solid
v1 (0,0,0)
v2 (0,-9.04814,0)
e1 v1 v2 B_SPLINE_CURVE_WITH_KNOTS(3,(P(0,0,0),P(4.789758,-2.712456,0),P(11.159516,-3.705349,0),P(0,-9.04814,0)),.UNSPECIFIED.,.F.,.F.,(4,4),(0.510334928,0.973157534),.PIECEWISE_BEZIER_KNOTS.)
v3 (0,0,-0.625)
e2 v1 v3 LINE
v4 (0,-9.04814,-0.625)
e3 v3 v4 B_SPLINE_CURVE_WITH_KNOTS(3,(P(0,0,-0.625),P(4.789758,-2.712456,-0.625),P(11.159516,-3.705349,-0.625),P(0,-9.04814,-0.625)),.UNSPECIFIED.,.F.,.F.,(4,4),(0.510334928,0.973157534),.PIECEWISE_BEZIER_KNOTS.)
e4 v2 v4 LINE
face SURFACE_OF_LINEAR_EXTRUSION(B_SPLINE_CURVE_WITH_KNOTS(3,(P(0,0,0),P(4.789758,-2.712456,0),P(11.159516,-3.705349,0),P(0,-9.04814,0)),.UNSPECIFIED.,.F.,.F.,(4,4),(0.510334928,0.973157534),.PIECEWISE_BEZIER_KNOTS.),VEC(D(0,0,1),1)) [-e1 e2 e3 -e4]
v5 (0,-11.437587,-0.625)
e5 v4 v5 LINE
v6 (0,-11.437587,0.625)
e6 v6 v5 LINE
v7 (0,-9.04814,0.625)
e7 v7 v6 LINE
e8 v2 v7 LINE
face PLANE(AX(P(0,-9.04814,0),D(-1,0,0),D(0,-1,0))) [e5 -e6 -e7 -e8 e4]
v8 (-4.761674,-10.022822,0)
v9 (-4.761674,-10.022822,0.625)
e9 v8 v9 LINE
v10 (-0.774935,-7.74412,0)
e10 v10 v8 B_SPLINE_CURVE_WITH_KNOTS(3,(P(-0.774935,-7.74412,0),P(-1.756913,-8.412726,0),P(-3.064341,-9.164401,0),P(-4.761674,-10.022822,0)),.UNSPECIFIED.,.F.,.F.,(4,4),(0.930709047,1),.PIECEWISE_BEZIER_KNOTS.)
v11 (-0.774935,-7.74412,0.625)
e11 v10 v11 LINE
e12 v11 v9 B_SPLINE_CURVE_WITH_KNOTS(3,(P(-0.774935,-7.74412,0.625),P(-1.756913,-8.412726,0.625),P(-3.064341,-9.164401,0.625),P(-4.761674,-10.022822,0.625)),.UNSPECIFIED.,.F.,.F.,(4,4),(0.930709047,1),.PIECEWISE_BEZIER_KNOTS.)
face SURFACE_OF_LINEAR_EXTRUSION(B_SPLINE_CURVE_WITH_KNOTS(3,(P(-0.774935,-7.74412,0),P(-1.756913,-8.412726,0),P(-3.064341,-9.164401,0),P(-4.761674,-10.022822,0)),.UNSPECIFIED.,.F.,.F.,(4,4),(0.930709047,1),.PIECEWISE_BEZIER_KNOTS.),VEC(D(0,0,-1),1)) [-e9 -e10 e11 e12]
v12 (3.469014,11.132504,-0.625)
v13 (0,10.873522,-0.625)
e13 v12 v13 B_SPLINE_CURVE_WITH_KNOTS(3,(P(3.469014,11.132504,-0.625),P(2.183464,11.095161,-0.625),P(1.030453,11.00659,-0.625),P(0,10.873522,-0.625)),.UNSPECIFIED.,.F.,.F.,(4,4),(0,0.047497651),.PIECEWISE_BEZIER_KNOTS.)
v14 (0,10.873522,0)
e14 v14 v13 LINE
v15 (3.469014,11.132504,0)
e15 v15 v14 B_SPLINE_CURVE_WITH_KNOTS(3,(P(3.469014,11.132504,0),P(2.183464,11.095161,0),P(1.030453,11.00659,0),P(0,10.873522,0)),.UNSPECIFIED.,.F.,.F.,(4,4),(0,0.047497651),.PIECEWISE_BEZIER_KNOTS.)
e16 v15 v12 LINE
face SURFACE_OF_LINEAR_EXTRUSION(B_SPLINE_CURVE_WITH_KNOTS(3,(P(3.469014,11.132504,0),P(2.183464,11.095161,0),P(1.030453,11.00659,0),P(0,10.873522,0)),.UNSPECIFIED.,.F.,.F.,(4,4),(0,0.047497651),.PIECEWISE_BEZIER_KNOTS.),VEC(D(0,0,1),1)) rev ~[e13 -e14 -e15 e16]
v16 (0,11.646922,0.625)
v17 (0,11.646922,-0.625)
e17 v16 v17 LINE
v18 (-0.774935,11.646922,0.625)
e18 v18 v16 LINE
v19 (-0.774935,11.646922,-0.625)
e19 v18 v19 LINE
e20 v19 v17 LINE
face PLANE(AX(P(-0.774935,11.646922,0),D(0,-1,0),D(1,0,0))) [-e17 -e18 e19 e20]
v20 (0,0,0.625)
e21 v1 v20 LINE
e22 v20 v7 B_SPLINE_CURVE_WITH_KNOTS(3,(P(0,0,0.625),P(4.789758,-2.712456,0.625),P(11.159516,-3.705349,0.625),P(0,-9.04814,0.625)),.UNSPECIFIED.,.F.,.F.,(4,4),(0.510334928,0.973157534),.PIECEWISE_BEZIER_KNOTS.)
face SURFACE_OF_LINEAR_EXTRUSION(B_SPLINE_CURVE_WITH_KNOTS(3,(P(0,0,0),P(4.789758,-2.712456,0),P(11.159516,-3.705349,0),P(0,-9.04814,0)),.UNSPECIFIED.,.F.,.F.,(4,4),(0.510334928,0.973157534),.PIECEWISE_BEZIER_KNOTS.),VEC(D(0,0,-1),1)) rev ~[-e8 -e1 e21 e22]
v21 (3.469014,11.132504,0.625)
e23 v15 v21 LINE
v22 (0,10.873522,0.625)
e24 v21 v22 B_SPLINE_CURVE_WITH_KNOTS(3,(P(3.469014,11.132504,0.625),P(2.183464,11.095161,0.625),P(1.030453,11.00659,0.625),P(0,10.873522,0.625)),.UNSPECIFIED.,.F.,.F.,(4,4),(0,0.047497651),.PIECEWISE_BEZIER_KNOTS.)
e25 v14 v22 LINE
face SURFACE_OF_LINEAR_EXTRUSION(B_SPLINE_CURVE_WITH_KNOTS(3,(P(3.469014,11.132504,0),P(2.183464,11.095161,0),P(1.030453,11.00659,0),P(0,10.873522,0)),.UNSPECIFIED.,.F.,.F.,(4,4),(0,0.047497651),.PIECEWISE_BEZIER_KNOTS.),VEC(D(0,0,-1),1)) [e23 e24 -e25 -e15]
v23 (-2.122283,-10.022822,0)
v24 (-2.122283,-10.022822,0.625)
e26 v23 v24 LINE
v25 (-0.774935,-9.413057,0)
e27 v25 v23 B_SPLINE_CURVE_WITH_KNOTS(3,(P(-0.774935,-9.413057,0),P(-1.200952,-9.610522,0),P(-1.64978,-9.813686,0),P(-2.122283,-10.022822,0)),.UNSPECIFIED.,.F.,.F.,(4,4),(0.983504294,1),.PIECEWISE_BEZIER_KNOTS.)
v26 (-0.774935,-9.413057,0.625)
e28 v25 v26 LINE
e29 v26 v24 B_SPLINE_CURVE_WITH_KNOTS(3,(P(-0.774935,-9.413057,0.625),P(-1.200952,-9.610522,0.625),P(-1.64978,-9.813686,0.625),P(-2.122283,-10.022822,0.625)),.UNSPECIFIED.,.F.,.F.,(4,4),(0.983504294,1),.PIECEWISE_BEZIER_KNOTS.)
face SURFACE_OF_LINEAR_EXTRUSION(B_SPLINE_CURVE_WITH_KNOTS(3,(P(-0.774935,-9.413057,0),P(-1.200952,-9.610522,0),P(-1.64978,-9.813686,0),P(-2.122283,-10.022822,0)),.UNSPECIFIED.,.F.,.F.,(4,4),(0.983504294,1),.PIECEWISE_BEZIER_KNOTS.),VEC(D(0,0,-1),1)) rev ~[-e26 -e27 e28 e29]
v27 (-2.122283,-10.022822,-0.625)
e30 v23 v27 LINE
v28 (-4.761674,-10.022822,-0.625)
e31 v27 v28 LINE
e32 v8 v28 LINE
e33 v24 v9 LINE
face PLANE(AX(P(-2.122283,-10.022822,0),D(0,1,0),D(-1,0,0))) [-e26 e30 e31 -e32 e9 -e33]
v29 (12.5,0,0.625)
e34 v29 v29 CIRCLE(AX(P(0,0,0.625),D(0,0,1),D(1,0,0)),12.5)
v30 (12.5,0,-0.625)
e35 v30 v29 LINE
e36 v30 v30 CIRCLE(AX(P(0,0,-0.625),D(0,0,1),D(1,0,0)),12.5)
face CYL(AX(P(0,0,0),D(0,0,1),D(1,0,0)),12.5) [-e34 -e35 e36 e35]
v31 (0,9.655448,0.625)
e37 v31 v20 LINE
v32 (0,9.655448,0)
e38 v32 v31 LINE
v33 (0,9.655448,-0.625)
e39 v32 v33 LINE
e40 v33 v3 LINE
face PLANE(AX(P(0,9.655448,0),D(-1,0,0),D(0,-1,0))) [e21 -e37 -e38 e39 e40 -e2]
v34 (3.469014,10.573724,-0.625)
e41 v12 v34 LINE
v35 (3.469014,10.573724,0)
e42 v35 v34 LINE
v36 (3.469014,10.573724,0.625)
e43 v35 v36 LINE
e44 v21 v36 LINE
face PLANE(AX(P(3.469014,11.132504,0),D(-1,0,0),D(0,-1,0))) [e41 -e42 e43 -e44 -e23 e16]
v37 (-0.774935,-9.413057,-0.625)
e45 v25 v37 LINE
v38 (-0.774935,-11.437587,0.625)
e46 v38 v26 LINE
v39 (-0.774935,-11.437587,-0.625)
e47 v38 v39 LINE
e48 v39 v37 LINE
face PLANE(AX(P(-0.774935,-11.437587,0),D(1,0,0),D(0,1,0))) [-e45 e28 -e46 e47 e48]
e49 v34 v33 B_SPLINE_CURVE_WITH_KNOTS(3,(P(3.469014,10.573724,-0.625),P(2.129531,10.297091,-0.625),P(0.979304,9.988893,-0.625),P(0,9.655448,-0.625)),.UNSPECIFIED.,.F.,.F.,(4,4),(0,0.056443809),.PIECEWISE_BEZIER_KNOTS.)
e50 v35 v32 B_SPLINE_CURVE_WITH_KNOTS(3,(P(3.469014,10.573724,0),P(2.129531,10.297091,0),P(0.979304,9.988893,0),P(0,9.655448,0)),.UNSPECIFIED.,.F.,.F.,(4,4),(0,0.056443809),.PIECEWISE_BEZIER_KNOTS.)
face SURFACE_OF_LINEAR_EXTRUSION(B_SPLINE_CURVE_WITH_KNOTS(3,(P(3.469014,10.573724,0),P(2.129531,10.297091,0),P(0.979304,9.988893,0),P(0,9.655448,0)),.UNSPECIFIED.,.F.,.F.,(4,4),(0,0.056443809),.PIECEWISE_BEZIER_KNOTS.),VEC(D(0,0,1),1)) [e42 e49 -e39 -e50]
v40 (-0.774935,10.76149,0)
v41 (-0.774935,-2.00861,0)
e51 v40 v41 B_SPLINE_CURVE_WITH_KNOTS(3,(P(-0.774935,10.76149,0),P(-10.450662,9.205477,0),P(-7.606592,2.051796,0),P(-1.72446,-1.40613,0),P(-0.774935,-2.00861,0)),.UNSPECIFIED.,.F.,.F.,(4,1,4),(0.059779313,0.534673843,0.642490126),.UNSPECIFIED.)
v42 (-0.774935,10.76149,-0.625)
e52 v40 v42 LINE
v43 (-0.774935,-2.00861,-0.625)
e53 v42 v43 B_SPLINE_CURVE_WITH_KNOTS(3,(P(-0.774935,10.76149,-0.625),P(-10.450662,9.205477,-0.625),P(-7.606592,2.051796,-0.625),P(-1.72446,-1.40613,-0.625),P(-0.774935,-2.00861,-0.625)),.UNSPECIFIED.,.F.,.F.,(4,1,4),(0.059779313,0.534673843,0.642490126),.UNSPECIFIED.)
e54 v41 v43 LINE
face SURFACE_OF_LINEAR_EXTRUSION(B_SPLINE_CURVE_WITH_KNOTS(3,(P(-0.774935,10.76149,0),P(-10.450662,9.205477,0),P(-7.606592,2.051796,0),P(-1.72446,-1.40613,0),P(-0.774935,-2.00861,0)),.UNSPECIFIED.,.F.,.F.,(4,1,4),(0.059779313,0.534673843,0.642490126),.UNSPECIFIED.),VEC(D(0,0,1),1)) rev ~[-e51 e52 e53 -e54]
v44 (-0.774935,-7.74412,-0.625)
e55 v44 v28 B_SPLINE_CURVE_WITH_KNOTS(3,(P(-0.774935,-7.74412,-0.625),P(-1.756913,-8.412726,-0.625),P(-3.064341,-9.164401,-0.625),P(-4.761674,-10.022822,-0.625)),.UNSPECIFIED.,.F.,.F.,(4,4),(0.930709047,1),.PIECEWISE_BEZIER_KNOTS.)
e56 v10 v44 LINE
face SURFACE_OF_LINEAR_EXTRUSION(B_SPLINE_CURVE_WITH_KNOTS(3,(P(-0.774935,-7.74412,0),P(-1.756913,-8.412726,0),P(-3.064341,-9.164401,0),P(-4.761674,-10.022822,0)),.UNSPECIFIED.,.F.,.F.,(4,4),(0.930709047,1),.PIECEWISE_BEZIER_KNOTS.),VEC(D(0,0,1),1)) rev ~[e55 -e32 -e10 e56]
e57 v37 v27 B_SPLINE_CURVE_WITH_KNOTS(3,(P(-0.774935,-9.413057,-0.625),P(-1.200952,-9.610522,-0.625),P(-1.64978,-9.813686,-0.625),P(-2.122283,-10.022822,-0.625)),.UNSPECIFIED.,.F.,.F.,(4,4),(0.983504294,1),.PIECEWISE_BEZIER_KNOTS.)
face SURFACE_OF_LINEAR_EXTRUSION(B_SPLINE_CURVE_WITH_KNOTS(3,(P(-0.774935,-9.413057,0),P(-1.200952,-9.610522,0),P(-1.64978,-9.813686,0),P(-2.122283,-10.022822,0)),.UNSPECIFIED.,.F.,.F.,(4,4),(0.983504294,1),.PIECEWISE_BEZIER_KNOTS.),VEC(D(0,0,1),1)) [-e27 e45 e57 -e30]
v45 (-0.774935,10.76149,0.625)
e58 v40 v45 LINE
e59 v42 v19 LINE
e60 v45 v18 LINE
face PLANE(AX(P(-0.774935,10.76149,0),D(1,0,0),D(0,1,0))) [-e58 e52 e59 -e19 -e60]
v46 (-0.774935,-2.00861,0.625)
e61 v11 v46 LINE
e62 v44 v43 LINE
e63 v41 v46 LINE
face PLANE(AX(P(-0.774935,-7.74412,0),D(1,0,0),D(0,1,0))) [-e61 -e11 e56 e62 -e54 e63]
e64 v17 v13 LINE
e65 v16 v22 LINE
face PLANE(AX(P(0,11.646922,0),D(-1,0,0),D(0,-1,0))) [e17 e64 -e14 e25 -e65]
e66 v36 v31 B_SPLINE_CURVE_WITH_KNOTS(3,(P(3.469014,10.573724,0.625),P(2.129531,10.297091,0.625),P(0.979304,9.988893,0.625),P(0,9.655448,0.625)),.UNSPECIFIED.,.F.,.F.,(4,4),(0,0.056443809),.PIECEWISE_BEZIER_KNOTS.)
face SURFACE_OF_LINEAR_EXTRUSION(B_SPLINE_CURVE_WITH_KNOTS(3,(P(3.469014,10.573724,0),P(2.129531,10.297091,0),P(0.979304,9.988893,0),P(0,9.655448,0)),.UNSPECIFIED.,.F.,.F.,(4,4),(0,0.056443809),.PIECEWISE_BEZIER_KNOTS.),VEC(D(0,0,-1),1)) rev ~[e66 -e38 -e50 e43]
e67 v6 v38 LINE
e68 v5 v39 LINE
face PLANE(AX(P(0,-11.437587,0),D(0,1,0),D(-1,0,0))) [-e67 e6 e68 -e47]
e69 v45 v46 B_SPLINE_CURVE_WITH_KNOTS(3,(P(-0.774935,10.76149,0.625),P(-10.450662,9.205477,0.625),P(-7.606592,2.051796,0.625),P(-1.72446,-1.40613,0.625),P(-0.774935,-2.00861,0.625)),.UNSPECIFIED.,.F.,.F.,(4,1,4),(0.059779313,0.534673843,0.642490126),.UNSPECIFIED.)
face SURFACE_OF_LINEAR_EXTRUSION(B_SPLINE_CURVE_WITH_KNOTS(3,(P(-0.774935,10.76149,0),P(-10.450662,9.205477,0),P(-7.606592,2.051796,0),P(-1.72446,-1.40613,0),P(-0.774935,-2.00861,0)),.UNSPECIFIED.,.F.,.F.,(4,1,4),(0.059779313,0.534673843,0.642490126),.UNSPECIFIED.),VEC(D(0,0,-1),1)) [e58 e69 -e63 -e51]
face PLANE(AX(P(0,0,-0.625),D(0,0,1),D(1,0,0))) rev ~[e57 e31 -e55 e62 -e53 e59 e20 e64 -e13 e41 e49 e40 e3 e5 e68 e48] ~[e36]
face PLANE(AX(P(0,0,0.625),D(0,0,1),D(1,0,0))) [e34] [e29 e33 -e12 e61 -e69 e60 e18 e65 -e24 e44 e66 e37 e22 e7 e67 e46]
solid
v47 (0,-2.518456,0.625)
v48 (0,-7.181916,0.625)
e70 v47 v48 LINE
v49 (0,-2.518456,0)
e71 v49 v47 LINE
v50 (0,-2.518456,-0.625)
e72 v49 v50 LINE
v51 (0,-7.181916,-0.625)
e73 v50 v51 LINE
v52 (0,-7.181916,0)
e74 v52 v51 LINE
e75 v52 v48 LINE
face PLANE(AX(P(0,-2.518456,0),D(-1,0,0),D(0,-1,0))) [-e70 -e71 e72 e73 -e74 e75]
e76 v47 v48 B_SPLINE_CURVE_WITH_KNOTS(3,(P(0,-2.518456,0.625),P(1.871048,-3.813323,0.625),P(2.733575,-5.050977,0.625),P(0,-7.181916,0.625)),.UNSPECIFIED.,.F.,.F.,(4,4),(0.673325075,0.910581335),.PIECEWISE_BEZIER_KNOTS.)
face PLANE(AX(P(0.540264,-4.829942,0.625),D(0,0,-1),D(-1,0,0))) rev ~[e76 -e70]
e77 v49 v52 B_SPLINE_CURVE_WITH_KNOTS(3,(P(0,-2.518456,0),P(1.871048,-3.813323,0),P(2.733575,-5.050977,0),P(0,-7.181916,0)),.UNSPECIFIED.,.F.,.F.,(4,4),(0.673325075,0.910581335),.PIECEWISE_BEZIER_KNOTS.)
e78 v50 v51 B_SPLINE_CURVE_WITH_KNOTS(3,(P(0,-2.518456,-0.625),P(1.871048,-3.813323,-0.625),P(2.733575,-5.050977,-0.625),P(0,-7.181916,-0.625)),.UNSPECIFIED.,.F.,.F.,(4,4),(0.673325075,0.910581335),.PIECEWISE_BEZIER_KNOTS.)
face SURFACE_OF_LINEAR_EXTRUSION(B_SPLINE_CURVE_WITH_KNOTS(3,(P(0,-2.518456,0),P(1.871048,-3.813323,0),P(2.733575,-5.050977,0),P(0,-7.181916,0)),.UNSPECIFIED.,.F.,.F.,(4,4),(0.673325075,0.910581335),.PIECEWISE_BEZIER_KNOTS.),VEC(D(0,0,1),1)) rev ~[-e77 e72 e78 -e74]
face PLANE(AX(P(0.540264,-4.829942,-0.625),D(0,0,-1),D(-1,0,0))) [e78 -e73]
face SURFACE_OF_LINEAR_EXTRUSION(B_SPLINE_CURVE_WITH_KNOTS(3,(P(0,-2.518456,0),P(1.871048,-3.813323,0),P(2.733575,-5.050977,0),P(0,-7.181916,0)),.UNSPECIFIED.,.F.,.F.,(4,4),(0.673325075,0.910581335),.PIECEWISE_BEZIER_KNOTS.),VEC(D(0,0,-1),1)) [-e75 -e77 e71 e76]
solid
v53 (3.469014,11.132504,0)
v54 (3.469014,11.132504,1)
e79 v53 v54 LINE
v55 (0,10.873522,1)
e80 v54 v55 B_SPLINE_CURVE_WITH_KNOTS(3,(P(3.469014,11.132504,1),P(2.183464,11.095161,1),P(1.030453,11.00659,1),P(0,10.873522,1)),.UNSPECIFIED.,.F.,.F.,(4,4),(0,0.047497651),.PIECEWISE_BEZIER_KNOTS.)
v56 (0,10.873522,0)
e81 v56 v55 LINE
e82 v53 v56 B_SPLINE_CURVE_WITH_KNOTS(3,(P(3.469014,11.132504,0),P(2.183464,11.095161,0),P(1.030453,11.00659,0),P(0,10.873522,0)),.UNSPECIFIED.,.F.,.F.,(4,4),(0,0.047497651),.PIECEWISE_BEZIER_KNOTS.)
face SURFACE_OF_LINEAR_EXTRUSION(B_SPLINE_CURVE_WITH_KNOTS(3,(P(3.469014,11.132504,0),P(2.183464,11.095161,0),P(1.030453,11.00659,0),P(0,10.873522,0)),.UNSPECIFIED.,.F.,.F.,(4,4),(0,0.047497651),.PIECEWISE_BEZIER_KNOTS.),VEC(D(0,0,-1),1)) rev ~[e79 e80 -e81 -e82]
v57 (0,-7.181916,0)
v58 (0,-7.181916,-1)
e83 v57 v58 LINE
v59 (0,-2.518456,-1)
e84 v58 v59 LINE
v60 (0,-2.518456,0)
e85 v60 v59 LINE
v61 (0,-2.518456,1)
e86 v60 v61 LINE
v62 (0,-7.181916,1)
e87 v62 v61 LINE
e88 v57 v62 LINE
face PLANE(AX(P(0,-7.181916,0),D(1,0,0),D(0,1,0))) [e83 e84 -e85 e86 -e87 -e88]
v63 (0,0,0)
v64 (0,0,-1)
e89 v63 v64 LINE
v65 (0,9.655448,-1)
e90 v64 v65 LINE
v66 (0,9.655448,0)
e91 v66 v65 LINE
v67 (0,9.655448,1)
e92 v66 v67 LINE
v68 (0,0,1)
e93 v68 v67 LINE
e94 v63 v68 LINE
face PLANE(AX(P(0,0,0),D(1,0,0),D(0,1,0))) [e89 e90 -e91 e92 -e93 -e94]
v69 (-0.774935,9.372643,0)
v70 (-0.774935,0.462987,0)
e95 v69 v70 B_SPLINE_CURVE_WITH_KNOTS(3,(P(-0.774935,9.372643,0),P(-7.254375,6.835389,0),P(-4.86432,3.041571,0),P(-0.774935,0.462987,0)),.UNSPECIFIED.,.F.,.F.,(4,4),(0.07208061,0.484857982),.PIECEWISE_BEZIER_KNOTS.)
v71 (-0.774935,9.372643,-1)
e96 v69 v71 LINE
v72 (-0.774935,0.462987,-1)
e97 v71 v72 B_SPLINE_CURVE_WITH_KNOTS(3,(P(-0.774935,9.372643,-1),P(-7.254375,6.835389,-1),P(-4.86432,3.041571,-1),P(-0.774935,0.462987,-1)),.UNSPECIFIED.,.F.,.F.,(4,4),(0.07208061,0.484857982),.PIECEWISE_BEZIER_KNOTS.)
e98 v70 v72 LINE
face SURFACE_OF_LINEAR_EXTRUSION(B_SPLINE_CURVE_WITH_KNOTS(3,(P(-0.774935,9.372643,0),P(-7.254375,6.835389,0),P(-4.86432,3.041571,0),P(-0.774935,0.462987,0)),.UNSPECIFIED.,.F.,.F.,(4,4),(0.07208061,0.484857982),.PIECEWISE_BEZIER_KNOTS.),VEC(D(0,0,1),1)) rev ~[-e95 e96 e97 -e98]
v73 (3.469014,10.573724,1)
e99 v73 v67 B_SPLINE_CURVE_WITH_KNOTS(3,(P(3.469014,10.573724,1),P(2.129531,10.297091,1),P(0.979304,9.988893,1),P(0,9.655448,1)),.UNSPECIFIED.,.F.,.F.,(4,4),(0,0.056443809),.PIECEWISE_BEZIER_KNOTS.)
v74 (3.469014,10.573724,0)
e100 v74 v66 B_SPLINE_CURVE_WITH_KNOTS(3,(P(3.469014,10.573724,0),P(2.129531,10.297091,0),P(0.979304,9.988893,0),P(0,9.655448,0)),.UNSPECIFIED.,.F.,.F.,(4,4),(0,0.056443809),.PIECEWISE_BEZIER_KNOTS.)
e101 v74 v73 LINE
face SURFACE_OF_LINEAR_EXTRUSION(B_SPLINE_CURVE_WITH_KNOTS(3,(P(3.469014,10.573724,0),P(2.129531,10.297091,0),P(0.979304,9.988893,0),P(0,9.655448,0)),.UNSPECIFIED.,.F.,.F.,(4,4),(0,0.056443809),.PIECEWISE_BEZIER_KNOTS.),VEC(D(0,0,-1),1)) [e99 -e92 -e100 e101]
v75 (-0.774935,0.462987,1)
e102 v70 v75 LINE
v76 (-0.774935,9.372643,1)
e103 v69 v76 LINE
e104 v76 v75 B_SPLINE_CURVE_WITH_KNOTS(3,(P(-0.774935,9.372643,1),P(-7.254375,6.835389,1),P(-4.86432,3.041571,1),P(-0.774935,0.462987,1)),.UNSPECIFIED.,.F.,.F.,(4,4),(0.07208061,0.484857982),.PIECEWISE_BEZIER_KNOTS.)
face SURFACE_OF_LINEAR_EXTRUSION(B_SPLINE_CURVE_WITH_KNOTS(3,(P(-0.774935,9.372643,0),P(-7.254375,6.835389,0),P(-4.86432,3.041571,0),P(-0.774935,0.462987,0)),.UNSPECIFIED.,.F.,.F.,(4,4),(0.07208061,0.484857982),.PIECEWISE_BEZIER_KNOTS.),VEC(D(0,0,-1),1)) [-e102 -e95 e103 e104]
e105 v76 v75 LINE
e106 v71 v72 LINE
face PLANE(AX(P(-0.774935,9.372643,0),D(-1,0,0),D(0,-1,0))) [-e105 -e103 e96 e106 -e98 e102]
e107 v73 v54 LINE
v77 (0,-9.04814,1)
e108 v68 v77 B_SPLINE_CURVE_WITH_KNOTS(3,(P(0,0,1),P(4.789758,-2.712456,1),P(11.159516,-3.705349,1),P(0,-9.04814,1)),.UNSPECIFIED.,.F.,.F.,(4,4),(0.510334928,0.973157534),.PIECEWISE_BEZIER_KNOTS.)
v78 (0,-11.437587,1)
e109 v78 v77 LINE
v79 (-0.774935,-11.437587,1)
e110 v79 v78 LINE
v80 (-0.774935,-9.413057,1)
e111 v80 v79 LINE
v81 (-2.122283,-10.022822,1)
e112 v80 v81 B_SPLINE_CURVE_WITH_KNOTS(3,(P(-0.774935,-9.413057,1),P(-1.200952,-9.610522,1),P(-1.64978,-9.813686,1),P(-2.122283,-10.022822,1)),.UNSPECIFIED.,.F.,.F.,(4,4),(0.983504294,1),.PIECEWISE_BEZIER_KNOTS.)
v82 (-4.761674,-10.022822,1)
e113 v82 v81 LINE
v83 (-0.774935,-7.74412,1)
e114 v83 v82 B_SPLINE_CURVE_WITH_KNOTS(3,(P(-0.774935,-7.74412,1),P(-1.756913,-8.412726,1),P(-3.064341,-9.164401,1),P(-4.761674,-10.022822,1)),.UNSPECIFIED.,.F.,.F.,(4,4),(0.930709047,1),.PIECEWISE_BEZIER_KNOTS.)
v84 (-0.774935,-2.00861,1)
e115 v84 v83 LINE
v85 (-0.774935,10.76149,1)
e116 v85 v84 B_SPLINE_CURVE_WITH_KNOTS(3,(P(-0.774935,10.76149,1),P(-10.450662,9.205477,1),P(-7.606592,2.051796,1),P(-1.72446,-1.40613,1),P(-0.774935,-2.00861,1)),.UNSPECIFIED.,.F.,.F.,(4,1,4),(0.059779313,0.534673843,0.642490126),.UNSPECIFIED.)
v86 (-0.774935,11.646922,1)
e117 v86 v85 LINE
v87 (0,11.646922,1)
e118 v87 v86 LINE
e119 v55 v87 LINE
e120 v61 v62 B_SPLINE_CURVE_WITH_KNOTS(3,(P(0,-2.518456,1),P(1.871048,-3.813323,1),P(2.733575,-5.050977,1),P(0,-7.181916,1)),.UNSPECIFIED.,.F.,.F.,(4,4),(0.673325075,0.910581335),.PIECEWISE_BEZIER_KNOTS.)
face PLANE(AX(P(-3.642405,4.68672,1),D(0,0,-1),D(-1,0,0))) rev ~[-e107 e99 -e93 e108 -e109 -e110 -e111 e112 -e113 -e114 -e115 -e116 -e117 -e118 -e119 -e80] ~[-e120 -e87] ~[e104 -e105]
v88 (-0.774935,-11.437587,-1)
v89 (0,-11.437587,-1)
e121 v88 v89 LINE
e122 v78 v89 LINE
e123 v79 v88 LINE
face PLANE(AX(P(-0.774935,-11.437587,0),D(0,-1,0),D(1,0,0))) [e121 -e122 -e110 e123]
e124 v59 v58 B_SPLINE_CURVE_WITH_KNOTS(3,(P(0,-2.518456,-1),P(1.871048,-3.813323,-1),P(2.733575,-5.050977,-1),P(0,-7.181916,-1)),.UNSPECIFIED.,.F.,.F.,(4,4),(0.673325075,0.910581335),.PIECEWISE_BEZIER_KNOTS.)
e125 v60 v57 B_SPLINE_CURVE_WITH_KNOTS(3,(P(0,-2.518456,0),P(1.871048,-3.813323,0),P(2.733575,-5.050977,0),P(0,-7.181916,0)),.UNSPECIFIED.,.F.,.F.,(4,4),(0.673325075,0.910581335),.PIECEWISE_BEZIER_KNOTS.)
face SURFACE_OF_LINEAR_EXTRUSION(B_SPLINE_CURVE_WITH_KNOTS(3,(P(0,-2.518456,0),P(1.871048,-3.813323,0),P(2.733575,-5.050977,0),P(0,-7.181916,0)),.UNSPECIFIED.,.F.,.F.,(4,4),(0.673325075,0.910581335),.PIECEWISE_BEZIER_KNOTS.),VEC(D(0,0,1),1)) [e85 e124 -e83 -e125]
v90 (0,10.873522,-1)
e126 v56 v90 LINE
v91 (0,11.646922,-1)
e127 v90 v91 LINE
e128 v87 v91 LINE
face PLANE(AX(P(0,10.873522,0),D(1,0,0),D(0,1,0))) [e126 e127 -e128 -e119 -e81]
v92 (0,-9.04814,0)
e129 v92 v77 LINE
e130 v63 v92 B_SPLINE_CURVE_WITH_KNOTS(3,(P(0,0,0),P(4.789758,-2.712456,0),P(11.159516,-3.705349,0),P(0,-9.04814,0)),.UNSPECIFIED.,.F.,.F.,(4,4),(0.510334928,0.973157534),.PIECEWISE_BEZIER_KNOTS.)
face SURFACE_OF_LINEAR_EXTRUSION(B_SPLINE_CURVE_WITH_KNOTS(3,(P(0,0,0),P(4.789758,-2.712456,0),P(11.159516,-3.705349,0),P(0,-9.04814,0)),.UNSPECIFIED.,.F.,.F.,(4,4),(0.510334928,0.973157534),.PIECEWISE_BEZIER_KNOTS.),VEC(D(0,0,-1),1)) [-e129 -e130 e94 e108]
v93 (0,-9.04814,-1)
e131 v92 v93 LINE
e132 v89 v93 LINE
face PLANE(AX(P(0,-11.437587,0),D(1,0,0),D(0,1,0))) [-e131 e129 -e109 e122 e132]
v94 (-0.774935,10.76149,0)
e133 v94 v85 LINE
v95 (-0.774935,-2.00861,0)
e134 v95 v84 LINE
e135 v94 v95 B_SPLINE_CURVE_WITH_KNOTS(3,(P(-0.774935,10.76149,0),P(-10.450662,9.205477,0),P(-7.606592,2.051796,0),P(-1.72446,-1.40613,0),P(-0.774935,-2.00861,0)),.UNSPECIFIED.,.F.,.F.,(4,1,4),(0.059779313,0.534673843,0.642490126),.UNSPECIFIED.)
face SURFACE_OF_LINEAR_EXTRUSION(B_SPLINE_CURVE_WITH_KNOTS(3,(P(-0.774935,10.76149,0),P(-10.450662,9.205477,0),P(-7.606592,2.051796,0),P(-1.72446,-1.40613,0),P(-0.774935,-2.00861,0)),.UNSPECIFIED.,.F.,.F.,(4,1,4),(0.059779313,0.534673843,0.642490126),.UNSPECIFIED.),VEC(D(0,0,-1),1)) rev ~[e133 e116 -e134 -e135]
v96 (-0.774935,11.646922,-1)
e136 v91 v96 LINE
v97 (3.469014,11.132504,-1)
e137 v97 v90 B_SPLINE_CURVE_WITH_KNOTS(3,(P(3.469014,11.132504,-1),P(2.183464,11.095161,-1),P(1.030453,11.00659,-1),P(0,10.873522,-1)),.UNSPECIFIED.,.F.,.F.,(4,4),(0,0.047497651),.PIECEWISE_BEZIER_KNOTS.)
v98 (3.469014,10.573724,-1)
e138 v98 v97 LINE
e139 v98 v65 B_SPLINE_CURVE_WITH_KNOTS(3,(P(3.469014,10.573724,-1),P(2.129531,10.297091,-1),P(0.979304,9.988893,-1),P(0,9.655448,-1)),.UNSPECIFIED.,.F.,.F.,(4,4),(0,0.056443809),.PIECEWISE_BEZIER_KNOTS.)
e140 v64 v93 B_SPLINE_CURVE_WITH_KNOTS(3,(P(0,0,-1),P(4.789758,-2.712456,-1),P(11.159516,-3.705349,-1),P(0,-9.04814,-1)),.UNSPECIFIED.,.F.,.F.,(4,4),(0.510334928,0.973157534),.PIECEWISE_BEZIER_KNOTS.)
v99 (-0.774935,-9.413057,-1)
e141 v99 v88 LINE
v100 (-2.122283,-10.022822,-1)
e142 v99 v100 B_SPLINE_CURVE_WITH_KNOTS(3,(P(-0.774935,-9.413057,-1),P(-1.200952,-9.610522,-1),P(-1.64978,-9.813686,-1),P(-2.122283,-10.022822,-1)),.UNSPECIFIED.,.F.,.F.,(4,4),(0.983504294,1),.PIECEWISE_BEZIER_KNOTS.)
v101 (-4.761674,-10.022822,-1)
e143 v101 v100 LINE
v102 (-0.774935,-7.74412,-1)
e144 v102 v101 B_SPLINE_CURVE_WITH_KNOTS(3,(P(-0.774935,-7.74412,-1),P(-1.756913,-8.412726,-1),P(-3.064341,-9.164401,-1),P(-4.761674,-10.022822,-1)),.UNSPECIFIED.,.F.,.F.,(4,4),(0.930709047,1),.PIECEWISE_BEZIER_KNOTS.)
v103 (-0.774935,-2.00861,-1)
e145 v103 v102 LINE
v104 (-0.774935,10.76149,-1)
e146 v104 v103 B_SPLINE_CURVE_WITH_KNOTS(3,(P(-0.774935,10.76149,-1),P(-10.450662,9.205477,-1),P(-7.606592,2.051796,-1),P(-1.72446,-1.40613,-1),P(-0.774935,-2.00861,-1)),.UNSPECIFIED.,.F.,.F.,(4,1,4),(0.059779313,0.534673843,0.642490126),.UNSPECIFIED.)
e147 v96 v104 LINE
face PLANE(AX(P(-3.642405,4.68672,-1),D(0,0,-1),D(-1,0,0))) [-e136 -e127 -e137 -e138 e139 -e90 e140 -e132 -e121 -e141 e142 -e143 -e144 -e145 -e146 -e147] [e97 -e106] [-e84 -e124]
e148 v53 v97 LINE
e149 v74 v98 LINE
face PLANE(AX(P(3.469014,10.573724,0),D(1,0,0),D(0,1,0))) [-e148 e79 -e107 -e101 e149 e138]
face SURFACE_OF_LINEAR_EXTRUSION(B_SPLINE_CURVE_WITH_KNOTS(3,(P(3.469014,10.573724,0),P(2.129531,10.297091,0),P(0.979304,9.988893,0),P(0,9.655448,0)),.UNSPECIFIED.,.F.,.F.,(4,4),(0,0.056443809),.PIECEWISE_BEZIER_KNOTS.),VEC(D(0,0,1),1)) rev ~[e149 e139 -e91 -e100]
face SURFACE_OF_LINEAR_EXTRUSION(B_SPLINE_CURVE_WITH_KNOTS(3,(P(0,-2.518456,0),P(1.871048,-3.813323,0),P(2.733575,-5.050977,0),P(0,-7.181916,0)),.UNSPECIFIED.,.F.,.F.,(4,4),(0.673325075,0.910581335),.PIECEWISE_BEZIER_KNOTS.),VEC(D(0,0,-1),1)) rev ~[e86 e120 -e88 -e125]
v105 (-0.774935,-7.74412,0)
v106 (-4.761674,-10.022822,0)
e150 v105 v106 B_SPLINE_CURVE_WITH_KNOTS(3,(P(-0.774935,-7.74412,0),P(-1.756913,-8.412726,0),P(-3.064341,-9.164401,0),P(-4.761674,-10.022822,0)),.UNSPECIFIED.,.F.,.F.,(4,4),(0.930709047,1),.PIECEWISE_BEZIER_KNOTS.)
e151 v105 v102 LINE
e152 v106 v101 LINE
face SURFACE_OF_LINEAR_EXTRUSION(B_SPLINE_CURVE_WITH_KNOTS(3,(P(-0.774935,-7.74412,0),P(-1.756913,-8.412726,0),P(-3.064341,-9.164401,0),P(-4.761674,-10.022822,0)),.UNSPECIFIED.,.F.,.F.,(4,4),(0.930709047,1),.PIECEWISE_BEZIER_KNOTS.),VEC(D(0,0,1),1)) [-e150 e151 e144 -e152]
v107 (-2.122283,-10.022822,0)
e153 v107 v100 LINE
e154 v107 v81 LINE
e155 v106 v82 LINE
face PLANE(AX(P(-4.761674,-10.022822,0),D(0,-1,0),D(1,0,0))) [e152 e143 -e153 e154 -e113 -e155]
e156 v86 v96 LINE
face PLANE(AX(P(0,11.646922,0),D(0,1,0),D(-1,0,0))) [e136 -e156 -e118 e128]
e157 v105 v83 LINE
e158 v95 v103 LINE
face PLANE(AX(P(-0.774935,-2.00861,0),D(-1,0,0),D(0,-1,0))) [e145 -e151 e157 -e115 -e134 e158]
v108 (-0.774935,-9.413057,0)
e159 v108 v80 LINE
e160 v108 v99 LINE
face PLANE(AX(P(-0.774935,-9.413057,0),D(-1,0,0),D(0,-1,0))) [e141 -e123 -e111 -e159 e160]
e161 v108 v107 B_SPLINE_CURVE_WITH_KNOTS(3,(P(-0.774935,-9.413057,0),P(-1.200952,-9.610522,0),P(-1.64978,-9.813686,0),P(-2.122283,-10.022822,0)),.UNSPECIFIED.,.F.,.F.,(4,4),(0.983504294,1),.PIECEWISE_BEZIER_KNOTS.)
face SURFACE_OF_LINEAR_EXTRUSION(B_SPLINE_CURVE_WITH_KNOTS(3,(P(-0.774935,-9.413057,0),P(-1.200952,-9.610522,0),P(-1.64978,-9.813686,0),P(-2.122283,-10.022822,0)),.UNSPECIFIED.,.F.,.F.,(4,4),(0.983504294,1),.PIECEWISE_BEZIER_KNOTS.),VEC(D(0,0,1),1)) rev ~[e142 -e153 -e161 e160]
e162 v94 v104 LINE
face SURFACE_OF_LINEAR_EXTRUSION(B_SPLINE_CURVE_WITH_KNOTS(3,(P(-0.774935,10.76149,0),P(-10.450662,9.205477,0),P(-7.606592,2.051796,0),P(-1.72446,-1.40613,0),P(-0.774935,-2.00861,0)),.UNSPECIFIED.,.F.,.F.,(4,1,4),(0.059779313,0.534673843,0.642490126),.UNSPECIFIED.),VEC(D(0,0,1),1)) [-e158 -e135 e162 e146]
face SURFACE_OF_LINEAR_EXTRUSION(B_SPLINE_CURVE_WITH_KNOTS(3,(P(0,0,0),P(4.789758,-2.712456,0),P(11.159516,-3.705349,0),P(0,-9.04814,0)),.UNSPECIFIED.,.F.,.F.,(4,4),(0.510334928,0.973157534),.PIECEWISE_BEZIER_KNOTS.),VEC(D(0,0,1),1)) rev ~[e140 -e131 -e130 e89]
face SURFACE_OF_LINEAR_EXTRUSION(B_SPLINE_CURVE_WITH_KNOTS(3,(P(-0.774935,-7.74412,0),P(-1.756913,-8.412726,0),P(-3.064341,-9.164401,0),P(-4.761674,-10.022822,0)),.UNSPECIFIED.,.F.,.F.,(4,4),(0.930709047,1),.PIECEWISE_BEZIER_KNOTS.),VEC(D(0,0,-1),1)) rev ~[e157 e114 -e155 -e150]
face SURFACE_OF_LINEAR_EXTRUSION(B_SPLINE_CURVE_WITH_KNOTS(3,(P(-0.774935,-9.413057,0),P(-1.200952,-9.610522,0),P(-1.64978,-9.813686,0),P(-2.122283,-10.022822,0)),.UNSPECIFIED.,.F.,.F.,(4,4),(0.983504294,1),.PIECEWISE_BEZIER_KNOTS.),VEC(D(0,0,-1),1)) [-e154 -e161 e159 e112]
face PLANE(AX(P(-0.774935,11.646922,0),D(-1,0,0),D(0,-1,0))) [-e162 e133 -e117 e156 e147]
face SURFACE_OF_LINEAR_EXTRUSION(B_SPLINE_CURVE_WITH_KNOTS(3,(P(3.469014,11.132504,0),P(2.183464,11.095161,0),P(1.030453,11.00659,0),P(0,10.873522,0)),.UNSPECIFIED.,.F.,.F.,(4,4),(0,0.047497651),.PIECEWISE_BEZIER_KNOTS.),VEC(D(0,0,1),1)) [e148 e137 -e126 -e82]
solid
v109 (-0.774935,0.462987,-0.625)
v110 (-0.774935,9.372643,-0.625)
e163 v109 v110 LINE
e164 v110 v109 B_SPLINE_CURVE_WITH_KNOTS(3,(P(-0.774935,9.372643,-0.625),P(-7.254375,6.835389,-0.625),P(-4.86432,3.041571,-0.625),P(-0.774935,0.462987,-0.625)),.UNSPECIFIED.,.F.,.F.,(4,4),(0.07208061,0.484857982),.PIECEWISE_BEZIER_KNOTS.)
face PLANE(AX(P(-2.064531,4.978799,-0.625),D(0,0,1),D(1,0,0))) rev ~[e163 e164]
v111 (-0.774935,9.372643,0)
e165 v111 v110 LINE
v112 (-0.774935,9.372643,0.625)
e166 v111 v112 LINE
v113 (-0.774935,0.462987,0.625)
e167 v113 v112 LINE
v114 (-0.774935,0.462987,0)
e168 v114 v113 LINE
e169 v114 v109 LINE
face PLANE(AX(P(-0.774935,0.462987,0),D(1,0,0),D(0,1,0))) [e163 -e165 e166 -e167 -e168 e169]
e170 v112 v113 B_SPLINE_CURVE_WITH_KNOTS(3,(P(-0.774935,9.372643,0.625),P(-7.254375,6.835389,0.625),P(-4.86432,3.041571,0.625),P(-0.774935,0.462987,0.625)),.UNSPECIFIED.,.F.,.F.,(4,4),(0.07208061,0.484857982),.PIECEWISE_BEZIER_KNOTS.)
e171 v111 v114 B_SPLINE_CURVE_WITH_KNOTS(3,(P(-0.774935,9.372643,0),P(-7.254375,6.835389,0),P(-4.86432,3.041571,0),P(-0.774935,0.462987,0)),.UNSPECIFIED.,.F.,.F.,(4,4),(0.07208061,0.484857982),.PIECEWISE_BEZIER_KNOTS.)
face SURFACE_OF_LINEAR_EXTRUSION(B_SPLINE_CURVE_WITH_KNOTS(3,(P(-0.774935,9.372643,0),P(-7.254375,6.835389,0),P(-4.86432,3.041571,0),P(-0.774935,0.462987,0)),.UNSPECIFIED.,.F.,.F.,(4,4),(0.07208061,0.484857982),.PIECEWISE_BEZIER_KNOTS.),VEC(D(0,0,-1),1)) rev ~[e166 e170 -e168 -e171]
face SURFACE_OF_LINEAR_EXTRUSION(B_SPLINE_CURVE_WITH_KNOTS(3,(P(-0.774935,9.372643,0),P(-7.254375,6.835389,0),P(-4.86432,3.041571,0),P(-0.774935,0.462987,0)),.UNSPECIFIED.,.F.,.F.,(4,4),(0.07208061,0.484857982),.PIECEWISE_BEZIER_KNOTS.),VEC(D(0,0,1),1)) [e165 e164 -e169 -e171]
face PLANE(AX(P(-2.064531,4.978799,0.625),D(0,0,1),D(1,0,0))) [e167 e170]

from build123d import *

# Parameters (mm, degrees)
F0_R     = 12.5
F1_DEPTH = 0.625
F2_DEPTH = 1


with BuildPart() as f1:
    # F0 (on Top) → F1 (new body, symmetric)
    with BuildSketch(Plane.XY):
        Circle(F0_R)
        with BuildLine():
            Line((3.469013609, 11.1325038597), (3.469013609, 10.5737236289))
            add(Edge.make_bspline(
                [(3.469013609, 10.5737236289), (2.1295310147, 10.2970913139), (0.9793041014, 9.9888926875), (0, 9.655447705)],
                knots=[0, 0, 0, 0, 0.0564438089, 0.0564438089, 0.0564438089, 0.0564438089], degree=3))
            Line((0, 9.655447705), (0, 0))
            add(Edge.make_bspline(
                [(0, 0), (4.7897576398, -2.7124564463), (11.1595160542, -3.7053488117), (0, -9.0481404075)],
                knots=[0.5103349284, 0.5103349284, 0.5103349284, 0.5103349284, 0.9731575335, 0.9731575335, 0.9731575335, 0.9731575335], degree=3))
            Line((0, -9.0481404075), (0, -11.43758744))
            Line((0, -11.43758744), (-0.7749350043, -11.43758744))
            Line((-0.7749350043, -11.43758744), (-0.7749350043, -9.4130570546))
            add(Edge.make_bspline(
                [(-0.7749350043, -9.4130570546), (-1.2009520677, -9.6105223834), (-1.6497795787, -9.8136858366), (-2.1222827306, -10.022822216)],
                knots=[0.9835042945, 0.9835042945, 0.9835042945, 0.9835042945, 1, 1, 1, 1], degree=3))
            Line((-2.1222827306, -10.022822216), (-4.7616744414, -10.022822216))
            add(Edge.make_bspline(
                [(-0.7749350043, -7.7441201795), (-1.7569134715, -8.4127257105), (-3.0643409272, -9.1644007059), (-4.7616744414, -10.022822216)],
                knots=[0.9307090471, 0.9307090471, 0.9307090471, 0.9307090471, 1, 1, 1, 1], degree=3))
            Line((-0.7749350043, -7.7441201795), (-0.7749350043, -2.0086095272))
            add(Edge.make_bspline(
                [(-0.7749350043, 10.7614904305), (-10.4506616594, 9.2054766823), (-7.6065922045, 2.0517963529), (-1.7244596317, -1.4061301092), (-0.7749350043, -2.0086095272)],
                knots=[0.0597793128, 0.0597793128, 0.0597793128, 0.0597793128, 0.5346738425, 0.6424901257, 0.6424901257, 0.6424901257, 0.6424901257], degree=3))
            Line((-0.7749350043, 10.7614904305), (-0.7749350043, 11.6469217464))
            Line((-0.7749350043, 11.6469217464), (0, 11.6469217464))
            Line((0, 11.6469217464), (0, 10.8735224005))
            add(Edge.make_bspline(
                [(3.469013609, 11.1325038597), (2.1834638751, 11.0951609113), (1.0304529742, 11.006589692), (0, 10.8735224005)],
                knots=[0, 0, 0, 0, 0.0474976509, 0.0474976509, 0.0474976509, 0.0474976509], degree=3))
        make_face(mode=Mode.SUBTRACT)
    extrude(amount=F1_DEPTH, both=True)


with BuildPart() as f1b:
    # F0 (on Top) → F1, piece 2 (new body, symmetric)
    with BuildSketch(Plane.XY):
        with BuildLine():
            Line((-0.7749350043, 0.4629873961), (-0.7749350043, 9.3726434612))
            add(Edge.make_bspline(
                [(-0.7749350043, 9.3726434612), (-7.2543752333, 6.8353887137), (-4.8643202342, 3.0415711892), (-0.7749350043, 0.4629873961)],
                knots=[0.0720806097, 0.0720806097, 0.0720806097, 0.0720806097, 0.4848579816, 0.4848579816, 0.4848579816, 0.4848579816], degree=3))
        make_face()
    extrude(amount=F1_DEPTH, both=True)


with BuildPart() as f1c:
    # F0 (on Top) → F1, piece 3 (new body, symmetric)
    with BuildSketch(Plane.XY):
        with BuildLine():
            add(Edge.make_bspline(
                [(0, -2.5184561726), (1.8710484062, -3.8133227091), (2.7335754881, -5.0509767976), (0, -7.1819160441)],
                knots=[0.6733250753, 0.6733250753, 0.6733250753, 0.6733250753, 0.9105813345, 0.9105813345, 0.9105813345, 0.9105813345], degree=3))
            Line((0, -2.5184561726), (0, -7.1819160441))
        make_face()
    extrude(amount=F1_DEPTH, both=True)


with BuildPart() as f2:
    # F0 (on Top) → F2 (new body, symmetric)
    with BuildSketch(Plane.XY):
        with BuildLine():
            add(Edge.make_bspline(
                [(-0.7749350043, 9.3726434612), (-7.2543752333, 6.8353887137), (-4.8643202342, 3.0415711892), (-0.7749350043, 0.4629873961)],
                knots=[0.0720806097, 0.0720806097, 0.0720806097, 0.0720806097, 0.4848579816, 0.4848579816, 0.4848579816, 0.4848579816], degree=3))
            Line((-0.7749350043, 9.3726434612), (-0.7749350043, 10.7614904305))
            add(Edge.make_bspline(
                [(-0.7749350043, 10.7614904305), (-10.4506616594, 9.2054766823), (-7.6065922045, 2.0517963529), (-1.7244596317, -1.4061301092), (-0.7749350043, -2.0086095272)],
                knots=[0.0597793128, 0.0597793128, 0.0597793128, 0.0597793128, 0.5346738425, 0.6424901257, 0.6424901257, 0.6424901257, 0.6424901257], degree=3))
            Line((-0.7749350043, -2.0086095272), (-0.7749350043, 0.4629873961))
        make_face()
        with BuildLine():
            Line((0, -2.5184561726), (0, 0))
            add(Edge.make_bspline(
                [(-0.7749350043, 0.4629873961), (-0.5225349044, 0.3038351591), (-0.2636612802, 0.149312302), (0, 0)],
                knots=[0.4848579816, 0.4848579816, 0.4848579816, 0.4848579816, 0.5103349284, 0.5103349284, 0.5103349284, 0.5103349284], degree=3))
            Line((-0.7749350043, 0.4629873961), (-0.7749350043, -2.0086095272))
            add(Edge.make_bspline(
                [(-0.7749350043, -2.0086095272), (-0.5033754302, -2.1809158049), (-0.2431703313, -2.3501691717), (0, -2.5184561726)],
                knots=[0.6424901257, 0.6424901257, 0.6424901257, 0.6424901257, 0.6733250753, 0.6733250753, 0.6733250753, 0.6733250753], degree=3))
        make_face()
        with BuildLine():
            add(Edge.make_bspline(
                [(0, 10.8735224005), (-0.2664484418, 10.8391146465), (-0.5247025919, 10.8017318602), (-0.7749350043, 10.7614904305)],
                knots=[0.0474976509, 0.0474976509, 0.0474976509, 0.0474976509, 0.0597793128, 0.0597793128, 0.0597793128, 0.0597793128], degree=3))
            Line((0, 10.8735224005), (0, 11.6469217464))
            Line((0, 11.6469217464), (-0.7749350043, 11.6469217464))
            Line((-0.7749350043, 11.6469217464), (-0.7749350043, 10.7614904305))
        make_face()
        with BuildLine():
            add(Edge.make_bspline(
                [(0, 9.655447705), (-0.2712996063, 9.5630724231), (-0.529481346, 9.4687595512), (-0.7749350043, 9.3726434612)],
                knots=[0.0564438089, 0.0564438089, 0.0564438089, 0.0564438089, 0.0720806097, 0.0720806097, 0.0720806097, 0.0720806097], degree=3))
            Line((0, 9.655447705), (0, 10.8735224005))
            add(Edge.make_bspline(
                [(0, 10.8735224005), (-0.2664484418, 10.8391146465), (-0.5247025919, 10.8017318602), (-0.7749350043, 10.7614904305)],
                knots=[0.0474976509, 0.0474976509, 0.0474976509, 0.0474976509, 0.0597793128, 0.0597793128, 0.0597793128, 0.0597793128], degree=3))
            Line((-0.7749350043, 10.7614904305), (-0.7749350043, 9.3726434612))
        make_face()
        with BuildLine():
            add(Edge.make_bspline(
                [(3.469013609, 10.5737236289), (2.1295310147, 10.2970913139), (0.9793041014, 9.9888926875), (0, 9.655447705)],
                knots=[0, 0, 0, 0, 0.0564438089, 0.0564438089, 0.0564438089, 0.0564438089], degree=3))
            Line((3.469013609, 10.5737236289), (3.469013609, 11.1325038597))
            add(Edge.make_bspline(
                [(3.469013609, 11.1325038597), (2.1834638751, 11.0951609113), (1.0304529742, 11.006589692), (0, 10.8735224005)],
                knots=[0, 0, 0, 0, 0.0474976509, 0.0474976509, 0.0474976509, 0.0474976509], degree=3))
            Line((0, 10.8735224005), (0, 9.655447705))
        make_face()
        with BuildLine():
            Line((0, 0), (0, 9.655447705))
            add(Edge.make_bspline(
                [(0, 9.655447705), (-0.2712996063, 9.5630724231), (-0.529481346, 9.4687595512), (-0.7749350043, 9.3726434612)],
                knots=[0.0564438089, 0.0564438089, 0.0564438089, 0.0564438089, 0.0720806097, 0.0720806097, 0.0720806097, 0.0720806097], degree=3))
            Line((-0.7749350043, 9.3726434612), (-0.7749350043, 0.4629873961))
            add(Edge.make_bspline(
                [(-0.7749350043, 0.4629873961), (-0.5225349044, 0.3038351591), (-0.2636612802, 0.149312302), (0, 0)],
                knots=[0.4848579816, 0.4848579816, 0.4848579816, 0.4848579816, 0.5103349284, 0.5103349284, 0.5103349284, 0.5103349284], degree=3))
        make_face()
        with BuildLine():
            Line((0, -7.1819160441), (0, -2.5184561726))
            add(Edge.make_bspline(
                [(-0.7749350043, -2.0086095272), (-0.5033754302, -2.1809158049), (-0.2431703313, -2.3501691717), (0, -2.5184561726)],
                knots=[0.6424901257, 0.6424901257, 0.6424901257, 0.6424901257, 0.6733250753, 0.6733250753, 0.6733250753, 0.6733250753], degree=3))
            Line((-0.7749350043, -2.0086095272), (-0.7749350043, -7.7441201795))
            add(Edge.make_bspline(
                [(0, -7.1819160441), (-0.2319037729, -7.3626949738), (-0.4896888142, -7.5499029062), (-0.7749350043, -7.7441201795)],
                knots=[0.9105813345, 0.9105813345, 0.9105813345, 0.9105813345, 0.9307090471, 0.9307090471, 0.9307090471, 0.9307090471], degree=3))
        make_face()
        with BuildLine():
            Line((0, -11.43758744), (0, -9.0481404075))
            add(Edge.make_bspline(
                [(0, -9.0481404075), (-0.2494797012, -9.1675826884), (-0.5077202, -9.289198966), (-0.7749350043, -9.4130570546)],
                knots=[0.9731575335, 0.9731575335, 0.9731575335, 0.9731575335, 0.9835042945, 0.9835042945, 0.9835042945, 0.9835042945], degree=3))
            Line((-0.7749350043, -9.4130570546), (-0.7749350043, -11.43758744))
            Line((-0.7749350043, -11.43758744), (0, -11.43758744))
        make_face()
        with BuildLine():
            add(Edge.make_bspline(
                [(-0.7749350043, -9.4130570546), (-1.2009520677, -9.6105223834), (-1.6497795787, -9.8136858366), (-2.1222827306, -10.022822216)],
                knots=[0.9835042945, 0.9835042945, 0.9835042945, 0.9835042945, 1, 1, 1, 1], degree=3))
            Line((-0.7749350043, -9.4130570546), (-0.7749350043, -7.7441201795))
            add(Edge.make_bspline(
                [(-0.7749350043, -7.7441201795), (-1.7569134715, -8.4127257105), (-3.0643409272, -9.1644007059), (-4.7616744414, -10.022822216)],
                knots=[0.9307090471, 0.9307090471, 0.9307090471, 0.9307090471, 1, 1, 1, 1], degree=3))
            Line((-4.7616744414, -10.022822216), (-2.1222827306, -10.022822216))
        make_face()
        with BuildLine():
            add(Edge.make_bspline(
                [(0, -9.0481404075), (-0.2494797012, -9.1675826884), (-0.5077202, -9.289198966), (-0.7749350043, -9.4130570546)],
                knots=[0.9731575335, 0.9731575335, 0.9731575335, 0.9731575335, 0.9835042945, 0.9835042945, 0.9835042945, 0.9835042945], degree=3))
            Line((0, -9.0481404075), (0, -7.1819160441))
            add(Edge.make_bspline(
                [(0, -7.1819160441), (-0.2319037729, -7.3626949738), (-0.4896888142, -7.5499029062), (-0.7749350043, -7.7441201795)],
                knots=[0.9105813345, 0.9105813345, 0.9105813345, 0.9105813345, 0.9307090471, 0.9307090471, 0.9307090471, 0.9307090471], degree=3))
            Line((-0.7749350043, -7.7441201795), (-0.7749350043, -9.4130570546))
        make_face()
        with BuildLine():
            add(Edge.make_bspline(
                [(0, 0), (4.7897576398, -2.7124564463), (11.1595160542, -3.7053488117), (0, -9.0481404075)],
                knots=[0.5103349284, 0.5103349284, 0.5103349284, 0.5103349284, 0.9731575335, 0.9731575335, 0.9731575335, 0.9731575335], degree=3))
            Line((0, 0), (0, -2.5184561726))
            add(Edge.make_bspline(
                [(0, -2.5184561726), (1.8710484062, -3.8133227091), (2.7335754881, -5.0509767976), (0, -7.1819160441)],
                knots=[0.6733250753, 0.6733250753, 0.6733250753, 0.6733250753, 0.9105813345, 0.9105813345, 0.9105813345, 0.9105813345], degree=3))
            Line((0, -7.1819160441), (0, -9.0481404075))
        make_face()
    extrude(amount=F2_DEPTH, both=True)


solid = Compound([f1.part, f1b.part, f1c.part, f2.part])
